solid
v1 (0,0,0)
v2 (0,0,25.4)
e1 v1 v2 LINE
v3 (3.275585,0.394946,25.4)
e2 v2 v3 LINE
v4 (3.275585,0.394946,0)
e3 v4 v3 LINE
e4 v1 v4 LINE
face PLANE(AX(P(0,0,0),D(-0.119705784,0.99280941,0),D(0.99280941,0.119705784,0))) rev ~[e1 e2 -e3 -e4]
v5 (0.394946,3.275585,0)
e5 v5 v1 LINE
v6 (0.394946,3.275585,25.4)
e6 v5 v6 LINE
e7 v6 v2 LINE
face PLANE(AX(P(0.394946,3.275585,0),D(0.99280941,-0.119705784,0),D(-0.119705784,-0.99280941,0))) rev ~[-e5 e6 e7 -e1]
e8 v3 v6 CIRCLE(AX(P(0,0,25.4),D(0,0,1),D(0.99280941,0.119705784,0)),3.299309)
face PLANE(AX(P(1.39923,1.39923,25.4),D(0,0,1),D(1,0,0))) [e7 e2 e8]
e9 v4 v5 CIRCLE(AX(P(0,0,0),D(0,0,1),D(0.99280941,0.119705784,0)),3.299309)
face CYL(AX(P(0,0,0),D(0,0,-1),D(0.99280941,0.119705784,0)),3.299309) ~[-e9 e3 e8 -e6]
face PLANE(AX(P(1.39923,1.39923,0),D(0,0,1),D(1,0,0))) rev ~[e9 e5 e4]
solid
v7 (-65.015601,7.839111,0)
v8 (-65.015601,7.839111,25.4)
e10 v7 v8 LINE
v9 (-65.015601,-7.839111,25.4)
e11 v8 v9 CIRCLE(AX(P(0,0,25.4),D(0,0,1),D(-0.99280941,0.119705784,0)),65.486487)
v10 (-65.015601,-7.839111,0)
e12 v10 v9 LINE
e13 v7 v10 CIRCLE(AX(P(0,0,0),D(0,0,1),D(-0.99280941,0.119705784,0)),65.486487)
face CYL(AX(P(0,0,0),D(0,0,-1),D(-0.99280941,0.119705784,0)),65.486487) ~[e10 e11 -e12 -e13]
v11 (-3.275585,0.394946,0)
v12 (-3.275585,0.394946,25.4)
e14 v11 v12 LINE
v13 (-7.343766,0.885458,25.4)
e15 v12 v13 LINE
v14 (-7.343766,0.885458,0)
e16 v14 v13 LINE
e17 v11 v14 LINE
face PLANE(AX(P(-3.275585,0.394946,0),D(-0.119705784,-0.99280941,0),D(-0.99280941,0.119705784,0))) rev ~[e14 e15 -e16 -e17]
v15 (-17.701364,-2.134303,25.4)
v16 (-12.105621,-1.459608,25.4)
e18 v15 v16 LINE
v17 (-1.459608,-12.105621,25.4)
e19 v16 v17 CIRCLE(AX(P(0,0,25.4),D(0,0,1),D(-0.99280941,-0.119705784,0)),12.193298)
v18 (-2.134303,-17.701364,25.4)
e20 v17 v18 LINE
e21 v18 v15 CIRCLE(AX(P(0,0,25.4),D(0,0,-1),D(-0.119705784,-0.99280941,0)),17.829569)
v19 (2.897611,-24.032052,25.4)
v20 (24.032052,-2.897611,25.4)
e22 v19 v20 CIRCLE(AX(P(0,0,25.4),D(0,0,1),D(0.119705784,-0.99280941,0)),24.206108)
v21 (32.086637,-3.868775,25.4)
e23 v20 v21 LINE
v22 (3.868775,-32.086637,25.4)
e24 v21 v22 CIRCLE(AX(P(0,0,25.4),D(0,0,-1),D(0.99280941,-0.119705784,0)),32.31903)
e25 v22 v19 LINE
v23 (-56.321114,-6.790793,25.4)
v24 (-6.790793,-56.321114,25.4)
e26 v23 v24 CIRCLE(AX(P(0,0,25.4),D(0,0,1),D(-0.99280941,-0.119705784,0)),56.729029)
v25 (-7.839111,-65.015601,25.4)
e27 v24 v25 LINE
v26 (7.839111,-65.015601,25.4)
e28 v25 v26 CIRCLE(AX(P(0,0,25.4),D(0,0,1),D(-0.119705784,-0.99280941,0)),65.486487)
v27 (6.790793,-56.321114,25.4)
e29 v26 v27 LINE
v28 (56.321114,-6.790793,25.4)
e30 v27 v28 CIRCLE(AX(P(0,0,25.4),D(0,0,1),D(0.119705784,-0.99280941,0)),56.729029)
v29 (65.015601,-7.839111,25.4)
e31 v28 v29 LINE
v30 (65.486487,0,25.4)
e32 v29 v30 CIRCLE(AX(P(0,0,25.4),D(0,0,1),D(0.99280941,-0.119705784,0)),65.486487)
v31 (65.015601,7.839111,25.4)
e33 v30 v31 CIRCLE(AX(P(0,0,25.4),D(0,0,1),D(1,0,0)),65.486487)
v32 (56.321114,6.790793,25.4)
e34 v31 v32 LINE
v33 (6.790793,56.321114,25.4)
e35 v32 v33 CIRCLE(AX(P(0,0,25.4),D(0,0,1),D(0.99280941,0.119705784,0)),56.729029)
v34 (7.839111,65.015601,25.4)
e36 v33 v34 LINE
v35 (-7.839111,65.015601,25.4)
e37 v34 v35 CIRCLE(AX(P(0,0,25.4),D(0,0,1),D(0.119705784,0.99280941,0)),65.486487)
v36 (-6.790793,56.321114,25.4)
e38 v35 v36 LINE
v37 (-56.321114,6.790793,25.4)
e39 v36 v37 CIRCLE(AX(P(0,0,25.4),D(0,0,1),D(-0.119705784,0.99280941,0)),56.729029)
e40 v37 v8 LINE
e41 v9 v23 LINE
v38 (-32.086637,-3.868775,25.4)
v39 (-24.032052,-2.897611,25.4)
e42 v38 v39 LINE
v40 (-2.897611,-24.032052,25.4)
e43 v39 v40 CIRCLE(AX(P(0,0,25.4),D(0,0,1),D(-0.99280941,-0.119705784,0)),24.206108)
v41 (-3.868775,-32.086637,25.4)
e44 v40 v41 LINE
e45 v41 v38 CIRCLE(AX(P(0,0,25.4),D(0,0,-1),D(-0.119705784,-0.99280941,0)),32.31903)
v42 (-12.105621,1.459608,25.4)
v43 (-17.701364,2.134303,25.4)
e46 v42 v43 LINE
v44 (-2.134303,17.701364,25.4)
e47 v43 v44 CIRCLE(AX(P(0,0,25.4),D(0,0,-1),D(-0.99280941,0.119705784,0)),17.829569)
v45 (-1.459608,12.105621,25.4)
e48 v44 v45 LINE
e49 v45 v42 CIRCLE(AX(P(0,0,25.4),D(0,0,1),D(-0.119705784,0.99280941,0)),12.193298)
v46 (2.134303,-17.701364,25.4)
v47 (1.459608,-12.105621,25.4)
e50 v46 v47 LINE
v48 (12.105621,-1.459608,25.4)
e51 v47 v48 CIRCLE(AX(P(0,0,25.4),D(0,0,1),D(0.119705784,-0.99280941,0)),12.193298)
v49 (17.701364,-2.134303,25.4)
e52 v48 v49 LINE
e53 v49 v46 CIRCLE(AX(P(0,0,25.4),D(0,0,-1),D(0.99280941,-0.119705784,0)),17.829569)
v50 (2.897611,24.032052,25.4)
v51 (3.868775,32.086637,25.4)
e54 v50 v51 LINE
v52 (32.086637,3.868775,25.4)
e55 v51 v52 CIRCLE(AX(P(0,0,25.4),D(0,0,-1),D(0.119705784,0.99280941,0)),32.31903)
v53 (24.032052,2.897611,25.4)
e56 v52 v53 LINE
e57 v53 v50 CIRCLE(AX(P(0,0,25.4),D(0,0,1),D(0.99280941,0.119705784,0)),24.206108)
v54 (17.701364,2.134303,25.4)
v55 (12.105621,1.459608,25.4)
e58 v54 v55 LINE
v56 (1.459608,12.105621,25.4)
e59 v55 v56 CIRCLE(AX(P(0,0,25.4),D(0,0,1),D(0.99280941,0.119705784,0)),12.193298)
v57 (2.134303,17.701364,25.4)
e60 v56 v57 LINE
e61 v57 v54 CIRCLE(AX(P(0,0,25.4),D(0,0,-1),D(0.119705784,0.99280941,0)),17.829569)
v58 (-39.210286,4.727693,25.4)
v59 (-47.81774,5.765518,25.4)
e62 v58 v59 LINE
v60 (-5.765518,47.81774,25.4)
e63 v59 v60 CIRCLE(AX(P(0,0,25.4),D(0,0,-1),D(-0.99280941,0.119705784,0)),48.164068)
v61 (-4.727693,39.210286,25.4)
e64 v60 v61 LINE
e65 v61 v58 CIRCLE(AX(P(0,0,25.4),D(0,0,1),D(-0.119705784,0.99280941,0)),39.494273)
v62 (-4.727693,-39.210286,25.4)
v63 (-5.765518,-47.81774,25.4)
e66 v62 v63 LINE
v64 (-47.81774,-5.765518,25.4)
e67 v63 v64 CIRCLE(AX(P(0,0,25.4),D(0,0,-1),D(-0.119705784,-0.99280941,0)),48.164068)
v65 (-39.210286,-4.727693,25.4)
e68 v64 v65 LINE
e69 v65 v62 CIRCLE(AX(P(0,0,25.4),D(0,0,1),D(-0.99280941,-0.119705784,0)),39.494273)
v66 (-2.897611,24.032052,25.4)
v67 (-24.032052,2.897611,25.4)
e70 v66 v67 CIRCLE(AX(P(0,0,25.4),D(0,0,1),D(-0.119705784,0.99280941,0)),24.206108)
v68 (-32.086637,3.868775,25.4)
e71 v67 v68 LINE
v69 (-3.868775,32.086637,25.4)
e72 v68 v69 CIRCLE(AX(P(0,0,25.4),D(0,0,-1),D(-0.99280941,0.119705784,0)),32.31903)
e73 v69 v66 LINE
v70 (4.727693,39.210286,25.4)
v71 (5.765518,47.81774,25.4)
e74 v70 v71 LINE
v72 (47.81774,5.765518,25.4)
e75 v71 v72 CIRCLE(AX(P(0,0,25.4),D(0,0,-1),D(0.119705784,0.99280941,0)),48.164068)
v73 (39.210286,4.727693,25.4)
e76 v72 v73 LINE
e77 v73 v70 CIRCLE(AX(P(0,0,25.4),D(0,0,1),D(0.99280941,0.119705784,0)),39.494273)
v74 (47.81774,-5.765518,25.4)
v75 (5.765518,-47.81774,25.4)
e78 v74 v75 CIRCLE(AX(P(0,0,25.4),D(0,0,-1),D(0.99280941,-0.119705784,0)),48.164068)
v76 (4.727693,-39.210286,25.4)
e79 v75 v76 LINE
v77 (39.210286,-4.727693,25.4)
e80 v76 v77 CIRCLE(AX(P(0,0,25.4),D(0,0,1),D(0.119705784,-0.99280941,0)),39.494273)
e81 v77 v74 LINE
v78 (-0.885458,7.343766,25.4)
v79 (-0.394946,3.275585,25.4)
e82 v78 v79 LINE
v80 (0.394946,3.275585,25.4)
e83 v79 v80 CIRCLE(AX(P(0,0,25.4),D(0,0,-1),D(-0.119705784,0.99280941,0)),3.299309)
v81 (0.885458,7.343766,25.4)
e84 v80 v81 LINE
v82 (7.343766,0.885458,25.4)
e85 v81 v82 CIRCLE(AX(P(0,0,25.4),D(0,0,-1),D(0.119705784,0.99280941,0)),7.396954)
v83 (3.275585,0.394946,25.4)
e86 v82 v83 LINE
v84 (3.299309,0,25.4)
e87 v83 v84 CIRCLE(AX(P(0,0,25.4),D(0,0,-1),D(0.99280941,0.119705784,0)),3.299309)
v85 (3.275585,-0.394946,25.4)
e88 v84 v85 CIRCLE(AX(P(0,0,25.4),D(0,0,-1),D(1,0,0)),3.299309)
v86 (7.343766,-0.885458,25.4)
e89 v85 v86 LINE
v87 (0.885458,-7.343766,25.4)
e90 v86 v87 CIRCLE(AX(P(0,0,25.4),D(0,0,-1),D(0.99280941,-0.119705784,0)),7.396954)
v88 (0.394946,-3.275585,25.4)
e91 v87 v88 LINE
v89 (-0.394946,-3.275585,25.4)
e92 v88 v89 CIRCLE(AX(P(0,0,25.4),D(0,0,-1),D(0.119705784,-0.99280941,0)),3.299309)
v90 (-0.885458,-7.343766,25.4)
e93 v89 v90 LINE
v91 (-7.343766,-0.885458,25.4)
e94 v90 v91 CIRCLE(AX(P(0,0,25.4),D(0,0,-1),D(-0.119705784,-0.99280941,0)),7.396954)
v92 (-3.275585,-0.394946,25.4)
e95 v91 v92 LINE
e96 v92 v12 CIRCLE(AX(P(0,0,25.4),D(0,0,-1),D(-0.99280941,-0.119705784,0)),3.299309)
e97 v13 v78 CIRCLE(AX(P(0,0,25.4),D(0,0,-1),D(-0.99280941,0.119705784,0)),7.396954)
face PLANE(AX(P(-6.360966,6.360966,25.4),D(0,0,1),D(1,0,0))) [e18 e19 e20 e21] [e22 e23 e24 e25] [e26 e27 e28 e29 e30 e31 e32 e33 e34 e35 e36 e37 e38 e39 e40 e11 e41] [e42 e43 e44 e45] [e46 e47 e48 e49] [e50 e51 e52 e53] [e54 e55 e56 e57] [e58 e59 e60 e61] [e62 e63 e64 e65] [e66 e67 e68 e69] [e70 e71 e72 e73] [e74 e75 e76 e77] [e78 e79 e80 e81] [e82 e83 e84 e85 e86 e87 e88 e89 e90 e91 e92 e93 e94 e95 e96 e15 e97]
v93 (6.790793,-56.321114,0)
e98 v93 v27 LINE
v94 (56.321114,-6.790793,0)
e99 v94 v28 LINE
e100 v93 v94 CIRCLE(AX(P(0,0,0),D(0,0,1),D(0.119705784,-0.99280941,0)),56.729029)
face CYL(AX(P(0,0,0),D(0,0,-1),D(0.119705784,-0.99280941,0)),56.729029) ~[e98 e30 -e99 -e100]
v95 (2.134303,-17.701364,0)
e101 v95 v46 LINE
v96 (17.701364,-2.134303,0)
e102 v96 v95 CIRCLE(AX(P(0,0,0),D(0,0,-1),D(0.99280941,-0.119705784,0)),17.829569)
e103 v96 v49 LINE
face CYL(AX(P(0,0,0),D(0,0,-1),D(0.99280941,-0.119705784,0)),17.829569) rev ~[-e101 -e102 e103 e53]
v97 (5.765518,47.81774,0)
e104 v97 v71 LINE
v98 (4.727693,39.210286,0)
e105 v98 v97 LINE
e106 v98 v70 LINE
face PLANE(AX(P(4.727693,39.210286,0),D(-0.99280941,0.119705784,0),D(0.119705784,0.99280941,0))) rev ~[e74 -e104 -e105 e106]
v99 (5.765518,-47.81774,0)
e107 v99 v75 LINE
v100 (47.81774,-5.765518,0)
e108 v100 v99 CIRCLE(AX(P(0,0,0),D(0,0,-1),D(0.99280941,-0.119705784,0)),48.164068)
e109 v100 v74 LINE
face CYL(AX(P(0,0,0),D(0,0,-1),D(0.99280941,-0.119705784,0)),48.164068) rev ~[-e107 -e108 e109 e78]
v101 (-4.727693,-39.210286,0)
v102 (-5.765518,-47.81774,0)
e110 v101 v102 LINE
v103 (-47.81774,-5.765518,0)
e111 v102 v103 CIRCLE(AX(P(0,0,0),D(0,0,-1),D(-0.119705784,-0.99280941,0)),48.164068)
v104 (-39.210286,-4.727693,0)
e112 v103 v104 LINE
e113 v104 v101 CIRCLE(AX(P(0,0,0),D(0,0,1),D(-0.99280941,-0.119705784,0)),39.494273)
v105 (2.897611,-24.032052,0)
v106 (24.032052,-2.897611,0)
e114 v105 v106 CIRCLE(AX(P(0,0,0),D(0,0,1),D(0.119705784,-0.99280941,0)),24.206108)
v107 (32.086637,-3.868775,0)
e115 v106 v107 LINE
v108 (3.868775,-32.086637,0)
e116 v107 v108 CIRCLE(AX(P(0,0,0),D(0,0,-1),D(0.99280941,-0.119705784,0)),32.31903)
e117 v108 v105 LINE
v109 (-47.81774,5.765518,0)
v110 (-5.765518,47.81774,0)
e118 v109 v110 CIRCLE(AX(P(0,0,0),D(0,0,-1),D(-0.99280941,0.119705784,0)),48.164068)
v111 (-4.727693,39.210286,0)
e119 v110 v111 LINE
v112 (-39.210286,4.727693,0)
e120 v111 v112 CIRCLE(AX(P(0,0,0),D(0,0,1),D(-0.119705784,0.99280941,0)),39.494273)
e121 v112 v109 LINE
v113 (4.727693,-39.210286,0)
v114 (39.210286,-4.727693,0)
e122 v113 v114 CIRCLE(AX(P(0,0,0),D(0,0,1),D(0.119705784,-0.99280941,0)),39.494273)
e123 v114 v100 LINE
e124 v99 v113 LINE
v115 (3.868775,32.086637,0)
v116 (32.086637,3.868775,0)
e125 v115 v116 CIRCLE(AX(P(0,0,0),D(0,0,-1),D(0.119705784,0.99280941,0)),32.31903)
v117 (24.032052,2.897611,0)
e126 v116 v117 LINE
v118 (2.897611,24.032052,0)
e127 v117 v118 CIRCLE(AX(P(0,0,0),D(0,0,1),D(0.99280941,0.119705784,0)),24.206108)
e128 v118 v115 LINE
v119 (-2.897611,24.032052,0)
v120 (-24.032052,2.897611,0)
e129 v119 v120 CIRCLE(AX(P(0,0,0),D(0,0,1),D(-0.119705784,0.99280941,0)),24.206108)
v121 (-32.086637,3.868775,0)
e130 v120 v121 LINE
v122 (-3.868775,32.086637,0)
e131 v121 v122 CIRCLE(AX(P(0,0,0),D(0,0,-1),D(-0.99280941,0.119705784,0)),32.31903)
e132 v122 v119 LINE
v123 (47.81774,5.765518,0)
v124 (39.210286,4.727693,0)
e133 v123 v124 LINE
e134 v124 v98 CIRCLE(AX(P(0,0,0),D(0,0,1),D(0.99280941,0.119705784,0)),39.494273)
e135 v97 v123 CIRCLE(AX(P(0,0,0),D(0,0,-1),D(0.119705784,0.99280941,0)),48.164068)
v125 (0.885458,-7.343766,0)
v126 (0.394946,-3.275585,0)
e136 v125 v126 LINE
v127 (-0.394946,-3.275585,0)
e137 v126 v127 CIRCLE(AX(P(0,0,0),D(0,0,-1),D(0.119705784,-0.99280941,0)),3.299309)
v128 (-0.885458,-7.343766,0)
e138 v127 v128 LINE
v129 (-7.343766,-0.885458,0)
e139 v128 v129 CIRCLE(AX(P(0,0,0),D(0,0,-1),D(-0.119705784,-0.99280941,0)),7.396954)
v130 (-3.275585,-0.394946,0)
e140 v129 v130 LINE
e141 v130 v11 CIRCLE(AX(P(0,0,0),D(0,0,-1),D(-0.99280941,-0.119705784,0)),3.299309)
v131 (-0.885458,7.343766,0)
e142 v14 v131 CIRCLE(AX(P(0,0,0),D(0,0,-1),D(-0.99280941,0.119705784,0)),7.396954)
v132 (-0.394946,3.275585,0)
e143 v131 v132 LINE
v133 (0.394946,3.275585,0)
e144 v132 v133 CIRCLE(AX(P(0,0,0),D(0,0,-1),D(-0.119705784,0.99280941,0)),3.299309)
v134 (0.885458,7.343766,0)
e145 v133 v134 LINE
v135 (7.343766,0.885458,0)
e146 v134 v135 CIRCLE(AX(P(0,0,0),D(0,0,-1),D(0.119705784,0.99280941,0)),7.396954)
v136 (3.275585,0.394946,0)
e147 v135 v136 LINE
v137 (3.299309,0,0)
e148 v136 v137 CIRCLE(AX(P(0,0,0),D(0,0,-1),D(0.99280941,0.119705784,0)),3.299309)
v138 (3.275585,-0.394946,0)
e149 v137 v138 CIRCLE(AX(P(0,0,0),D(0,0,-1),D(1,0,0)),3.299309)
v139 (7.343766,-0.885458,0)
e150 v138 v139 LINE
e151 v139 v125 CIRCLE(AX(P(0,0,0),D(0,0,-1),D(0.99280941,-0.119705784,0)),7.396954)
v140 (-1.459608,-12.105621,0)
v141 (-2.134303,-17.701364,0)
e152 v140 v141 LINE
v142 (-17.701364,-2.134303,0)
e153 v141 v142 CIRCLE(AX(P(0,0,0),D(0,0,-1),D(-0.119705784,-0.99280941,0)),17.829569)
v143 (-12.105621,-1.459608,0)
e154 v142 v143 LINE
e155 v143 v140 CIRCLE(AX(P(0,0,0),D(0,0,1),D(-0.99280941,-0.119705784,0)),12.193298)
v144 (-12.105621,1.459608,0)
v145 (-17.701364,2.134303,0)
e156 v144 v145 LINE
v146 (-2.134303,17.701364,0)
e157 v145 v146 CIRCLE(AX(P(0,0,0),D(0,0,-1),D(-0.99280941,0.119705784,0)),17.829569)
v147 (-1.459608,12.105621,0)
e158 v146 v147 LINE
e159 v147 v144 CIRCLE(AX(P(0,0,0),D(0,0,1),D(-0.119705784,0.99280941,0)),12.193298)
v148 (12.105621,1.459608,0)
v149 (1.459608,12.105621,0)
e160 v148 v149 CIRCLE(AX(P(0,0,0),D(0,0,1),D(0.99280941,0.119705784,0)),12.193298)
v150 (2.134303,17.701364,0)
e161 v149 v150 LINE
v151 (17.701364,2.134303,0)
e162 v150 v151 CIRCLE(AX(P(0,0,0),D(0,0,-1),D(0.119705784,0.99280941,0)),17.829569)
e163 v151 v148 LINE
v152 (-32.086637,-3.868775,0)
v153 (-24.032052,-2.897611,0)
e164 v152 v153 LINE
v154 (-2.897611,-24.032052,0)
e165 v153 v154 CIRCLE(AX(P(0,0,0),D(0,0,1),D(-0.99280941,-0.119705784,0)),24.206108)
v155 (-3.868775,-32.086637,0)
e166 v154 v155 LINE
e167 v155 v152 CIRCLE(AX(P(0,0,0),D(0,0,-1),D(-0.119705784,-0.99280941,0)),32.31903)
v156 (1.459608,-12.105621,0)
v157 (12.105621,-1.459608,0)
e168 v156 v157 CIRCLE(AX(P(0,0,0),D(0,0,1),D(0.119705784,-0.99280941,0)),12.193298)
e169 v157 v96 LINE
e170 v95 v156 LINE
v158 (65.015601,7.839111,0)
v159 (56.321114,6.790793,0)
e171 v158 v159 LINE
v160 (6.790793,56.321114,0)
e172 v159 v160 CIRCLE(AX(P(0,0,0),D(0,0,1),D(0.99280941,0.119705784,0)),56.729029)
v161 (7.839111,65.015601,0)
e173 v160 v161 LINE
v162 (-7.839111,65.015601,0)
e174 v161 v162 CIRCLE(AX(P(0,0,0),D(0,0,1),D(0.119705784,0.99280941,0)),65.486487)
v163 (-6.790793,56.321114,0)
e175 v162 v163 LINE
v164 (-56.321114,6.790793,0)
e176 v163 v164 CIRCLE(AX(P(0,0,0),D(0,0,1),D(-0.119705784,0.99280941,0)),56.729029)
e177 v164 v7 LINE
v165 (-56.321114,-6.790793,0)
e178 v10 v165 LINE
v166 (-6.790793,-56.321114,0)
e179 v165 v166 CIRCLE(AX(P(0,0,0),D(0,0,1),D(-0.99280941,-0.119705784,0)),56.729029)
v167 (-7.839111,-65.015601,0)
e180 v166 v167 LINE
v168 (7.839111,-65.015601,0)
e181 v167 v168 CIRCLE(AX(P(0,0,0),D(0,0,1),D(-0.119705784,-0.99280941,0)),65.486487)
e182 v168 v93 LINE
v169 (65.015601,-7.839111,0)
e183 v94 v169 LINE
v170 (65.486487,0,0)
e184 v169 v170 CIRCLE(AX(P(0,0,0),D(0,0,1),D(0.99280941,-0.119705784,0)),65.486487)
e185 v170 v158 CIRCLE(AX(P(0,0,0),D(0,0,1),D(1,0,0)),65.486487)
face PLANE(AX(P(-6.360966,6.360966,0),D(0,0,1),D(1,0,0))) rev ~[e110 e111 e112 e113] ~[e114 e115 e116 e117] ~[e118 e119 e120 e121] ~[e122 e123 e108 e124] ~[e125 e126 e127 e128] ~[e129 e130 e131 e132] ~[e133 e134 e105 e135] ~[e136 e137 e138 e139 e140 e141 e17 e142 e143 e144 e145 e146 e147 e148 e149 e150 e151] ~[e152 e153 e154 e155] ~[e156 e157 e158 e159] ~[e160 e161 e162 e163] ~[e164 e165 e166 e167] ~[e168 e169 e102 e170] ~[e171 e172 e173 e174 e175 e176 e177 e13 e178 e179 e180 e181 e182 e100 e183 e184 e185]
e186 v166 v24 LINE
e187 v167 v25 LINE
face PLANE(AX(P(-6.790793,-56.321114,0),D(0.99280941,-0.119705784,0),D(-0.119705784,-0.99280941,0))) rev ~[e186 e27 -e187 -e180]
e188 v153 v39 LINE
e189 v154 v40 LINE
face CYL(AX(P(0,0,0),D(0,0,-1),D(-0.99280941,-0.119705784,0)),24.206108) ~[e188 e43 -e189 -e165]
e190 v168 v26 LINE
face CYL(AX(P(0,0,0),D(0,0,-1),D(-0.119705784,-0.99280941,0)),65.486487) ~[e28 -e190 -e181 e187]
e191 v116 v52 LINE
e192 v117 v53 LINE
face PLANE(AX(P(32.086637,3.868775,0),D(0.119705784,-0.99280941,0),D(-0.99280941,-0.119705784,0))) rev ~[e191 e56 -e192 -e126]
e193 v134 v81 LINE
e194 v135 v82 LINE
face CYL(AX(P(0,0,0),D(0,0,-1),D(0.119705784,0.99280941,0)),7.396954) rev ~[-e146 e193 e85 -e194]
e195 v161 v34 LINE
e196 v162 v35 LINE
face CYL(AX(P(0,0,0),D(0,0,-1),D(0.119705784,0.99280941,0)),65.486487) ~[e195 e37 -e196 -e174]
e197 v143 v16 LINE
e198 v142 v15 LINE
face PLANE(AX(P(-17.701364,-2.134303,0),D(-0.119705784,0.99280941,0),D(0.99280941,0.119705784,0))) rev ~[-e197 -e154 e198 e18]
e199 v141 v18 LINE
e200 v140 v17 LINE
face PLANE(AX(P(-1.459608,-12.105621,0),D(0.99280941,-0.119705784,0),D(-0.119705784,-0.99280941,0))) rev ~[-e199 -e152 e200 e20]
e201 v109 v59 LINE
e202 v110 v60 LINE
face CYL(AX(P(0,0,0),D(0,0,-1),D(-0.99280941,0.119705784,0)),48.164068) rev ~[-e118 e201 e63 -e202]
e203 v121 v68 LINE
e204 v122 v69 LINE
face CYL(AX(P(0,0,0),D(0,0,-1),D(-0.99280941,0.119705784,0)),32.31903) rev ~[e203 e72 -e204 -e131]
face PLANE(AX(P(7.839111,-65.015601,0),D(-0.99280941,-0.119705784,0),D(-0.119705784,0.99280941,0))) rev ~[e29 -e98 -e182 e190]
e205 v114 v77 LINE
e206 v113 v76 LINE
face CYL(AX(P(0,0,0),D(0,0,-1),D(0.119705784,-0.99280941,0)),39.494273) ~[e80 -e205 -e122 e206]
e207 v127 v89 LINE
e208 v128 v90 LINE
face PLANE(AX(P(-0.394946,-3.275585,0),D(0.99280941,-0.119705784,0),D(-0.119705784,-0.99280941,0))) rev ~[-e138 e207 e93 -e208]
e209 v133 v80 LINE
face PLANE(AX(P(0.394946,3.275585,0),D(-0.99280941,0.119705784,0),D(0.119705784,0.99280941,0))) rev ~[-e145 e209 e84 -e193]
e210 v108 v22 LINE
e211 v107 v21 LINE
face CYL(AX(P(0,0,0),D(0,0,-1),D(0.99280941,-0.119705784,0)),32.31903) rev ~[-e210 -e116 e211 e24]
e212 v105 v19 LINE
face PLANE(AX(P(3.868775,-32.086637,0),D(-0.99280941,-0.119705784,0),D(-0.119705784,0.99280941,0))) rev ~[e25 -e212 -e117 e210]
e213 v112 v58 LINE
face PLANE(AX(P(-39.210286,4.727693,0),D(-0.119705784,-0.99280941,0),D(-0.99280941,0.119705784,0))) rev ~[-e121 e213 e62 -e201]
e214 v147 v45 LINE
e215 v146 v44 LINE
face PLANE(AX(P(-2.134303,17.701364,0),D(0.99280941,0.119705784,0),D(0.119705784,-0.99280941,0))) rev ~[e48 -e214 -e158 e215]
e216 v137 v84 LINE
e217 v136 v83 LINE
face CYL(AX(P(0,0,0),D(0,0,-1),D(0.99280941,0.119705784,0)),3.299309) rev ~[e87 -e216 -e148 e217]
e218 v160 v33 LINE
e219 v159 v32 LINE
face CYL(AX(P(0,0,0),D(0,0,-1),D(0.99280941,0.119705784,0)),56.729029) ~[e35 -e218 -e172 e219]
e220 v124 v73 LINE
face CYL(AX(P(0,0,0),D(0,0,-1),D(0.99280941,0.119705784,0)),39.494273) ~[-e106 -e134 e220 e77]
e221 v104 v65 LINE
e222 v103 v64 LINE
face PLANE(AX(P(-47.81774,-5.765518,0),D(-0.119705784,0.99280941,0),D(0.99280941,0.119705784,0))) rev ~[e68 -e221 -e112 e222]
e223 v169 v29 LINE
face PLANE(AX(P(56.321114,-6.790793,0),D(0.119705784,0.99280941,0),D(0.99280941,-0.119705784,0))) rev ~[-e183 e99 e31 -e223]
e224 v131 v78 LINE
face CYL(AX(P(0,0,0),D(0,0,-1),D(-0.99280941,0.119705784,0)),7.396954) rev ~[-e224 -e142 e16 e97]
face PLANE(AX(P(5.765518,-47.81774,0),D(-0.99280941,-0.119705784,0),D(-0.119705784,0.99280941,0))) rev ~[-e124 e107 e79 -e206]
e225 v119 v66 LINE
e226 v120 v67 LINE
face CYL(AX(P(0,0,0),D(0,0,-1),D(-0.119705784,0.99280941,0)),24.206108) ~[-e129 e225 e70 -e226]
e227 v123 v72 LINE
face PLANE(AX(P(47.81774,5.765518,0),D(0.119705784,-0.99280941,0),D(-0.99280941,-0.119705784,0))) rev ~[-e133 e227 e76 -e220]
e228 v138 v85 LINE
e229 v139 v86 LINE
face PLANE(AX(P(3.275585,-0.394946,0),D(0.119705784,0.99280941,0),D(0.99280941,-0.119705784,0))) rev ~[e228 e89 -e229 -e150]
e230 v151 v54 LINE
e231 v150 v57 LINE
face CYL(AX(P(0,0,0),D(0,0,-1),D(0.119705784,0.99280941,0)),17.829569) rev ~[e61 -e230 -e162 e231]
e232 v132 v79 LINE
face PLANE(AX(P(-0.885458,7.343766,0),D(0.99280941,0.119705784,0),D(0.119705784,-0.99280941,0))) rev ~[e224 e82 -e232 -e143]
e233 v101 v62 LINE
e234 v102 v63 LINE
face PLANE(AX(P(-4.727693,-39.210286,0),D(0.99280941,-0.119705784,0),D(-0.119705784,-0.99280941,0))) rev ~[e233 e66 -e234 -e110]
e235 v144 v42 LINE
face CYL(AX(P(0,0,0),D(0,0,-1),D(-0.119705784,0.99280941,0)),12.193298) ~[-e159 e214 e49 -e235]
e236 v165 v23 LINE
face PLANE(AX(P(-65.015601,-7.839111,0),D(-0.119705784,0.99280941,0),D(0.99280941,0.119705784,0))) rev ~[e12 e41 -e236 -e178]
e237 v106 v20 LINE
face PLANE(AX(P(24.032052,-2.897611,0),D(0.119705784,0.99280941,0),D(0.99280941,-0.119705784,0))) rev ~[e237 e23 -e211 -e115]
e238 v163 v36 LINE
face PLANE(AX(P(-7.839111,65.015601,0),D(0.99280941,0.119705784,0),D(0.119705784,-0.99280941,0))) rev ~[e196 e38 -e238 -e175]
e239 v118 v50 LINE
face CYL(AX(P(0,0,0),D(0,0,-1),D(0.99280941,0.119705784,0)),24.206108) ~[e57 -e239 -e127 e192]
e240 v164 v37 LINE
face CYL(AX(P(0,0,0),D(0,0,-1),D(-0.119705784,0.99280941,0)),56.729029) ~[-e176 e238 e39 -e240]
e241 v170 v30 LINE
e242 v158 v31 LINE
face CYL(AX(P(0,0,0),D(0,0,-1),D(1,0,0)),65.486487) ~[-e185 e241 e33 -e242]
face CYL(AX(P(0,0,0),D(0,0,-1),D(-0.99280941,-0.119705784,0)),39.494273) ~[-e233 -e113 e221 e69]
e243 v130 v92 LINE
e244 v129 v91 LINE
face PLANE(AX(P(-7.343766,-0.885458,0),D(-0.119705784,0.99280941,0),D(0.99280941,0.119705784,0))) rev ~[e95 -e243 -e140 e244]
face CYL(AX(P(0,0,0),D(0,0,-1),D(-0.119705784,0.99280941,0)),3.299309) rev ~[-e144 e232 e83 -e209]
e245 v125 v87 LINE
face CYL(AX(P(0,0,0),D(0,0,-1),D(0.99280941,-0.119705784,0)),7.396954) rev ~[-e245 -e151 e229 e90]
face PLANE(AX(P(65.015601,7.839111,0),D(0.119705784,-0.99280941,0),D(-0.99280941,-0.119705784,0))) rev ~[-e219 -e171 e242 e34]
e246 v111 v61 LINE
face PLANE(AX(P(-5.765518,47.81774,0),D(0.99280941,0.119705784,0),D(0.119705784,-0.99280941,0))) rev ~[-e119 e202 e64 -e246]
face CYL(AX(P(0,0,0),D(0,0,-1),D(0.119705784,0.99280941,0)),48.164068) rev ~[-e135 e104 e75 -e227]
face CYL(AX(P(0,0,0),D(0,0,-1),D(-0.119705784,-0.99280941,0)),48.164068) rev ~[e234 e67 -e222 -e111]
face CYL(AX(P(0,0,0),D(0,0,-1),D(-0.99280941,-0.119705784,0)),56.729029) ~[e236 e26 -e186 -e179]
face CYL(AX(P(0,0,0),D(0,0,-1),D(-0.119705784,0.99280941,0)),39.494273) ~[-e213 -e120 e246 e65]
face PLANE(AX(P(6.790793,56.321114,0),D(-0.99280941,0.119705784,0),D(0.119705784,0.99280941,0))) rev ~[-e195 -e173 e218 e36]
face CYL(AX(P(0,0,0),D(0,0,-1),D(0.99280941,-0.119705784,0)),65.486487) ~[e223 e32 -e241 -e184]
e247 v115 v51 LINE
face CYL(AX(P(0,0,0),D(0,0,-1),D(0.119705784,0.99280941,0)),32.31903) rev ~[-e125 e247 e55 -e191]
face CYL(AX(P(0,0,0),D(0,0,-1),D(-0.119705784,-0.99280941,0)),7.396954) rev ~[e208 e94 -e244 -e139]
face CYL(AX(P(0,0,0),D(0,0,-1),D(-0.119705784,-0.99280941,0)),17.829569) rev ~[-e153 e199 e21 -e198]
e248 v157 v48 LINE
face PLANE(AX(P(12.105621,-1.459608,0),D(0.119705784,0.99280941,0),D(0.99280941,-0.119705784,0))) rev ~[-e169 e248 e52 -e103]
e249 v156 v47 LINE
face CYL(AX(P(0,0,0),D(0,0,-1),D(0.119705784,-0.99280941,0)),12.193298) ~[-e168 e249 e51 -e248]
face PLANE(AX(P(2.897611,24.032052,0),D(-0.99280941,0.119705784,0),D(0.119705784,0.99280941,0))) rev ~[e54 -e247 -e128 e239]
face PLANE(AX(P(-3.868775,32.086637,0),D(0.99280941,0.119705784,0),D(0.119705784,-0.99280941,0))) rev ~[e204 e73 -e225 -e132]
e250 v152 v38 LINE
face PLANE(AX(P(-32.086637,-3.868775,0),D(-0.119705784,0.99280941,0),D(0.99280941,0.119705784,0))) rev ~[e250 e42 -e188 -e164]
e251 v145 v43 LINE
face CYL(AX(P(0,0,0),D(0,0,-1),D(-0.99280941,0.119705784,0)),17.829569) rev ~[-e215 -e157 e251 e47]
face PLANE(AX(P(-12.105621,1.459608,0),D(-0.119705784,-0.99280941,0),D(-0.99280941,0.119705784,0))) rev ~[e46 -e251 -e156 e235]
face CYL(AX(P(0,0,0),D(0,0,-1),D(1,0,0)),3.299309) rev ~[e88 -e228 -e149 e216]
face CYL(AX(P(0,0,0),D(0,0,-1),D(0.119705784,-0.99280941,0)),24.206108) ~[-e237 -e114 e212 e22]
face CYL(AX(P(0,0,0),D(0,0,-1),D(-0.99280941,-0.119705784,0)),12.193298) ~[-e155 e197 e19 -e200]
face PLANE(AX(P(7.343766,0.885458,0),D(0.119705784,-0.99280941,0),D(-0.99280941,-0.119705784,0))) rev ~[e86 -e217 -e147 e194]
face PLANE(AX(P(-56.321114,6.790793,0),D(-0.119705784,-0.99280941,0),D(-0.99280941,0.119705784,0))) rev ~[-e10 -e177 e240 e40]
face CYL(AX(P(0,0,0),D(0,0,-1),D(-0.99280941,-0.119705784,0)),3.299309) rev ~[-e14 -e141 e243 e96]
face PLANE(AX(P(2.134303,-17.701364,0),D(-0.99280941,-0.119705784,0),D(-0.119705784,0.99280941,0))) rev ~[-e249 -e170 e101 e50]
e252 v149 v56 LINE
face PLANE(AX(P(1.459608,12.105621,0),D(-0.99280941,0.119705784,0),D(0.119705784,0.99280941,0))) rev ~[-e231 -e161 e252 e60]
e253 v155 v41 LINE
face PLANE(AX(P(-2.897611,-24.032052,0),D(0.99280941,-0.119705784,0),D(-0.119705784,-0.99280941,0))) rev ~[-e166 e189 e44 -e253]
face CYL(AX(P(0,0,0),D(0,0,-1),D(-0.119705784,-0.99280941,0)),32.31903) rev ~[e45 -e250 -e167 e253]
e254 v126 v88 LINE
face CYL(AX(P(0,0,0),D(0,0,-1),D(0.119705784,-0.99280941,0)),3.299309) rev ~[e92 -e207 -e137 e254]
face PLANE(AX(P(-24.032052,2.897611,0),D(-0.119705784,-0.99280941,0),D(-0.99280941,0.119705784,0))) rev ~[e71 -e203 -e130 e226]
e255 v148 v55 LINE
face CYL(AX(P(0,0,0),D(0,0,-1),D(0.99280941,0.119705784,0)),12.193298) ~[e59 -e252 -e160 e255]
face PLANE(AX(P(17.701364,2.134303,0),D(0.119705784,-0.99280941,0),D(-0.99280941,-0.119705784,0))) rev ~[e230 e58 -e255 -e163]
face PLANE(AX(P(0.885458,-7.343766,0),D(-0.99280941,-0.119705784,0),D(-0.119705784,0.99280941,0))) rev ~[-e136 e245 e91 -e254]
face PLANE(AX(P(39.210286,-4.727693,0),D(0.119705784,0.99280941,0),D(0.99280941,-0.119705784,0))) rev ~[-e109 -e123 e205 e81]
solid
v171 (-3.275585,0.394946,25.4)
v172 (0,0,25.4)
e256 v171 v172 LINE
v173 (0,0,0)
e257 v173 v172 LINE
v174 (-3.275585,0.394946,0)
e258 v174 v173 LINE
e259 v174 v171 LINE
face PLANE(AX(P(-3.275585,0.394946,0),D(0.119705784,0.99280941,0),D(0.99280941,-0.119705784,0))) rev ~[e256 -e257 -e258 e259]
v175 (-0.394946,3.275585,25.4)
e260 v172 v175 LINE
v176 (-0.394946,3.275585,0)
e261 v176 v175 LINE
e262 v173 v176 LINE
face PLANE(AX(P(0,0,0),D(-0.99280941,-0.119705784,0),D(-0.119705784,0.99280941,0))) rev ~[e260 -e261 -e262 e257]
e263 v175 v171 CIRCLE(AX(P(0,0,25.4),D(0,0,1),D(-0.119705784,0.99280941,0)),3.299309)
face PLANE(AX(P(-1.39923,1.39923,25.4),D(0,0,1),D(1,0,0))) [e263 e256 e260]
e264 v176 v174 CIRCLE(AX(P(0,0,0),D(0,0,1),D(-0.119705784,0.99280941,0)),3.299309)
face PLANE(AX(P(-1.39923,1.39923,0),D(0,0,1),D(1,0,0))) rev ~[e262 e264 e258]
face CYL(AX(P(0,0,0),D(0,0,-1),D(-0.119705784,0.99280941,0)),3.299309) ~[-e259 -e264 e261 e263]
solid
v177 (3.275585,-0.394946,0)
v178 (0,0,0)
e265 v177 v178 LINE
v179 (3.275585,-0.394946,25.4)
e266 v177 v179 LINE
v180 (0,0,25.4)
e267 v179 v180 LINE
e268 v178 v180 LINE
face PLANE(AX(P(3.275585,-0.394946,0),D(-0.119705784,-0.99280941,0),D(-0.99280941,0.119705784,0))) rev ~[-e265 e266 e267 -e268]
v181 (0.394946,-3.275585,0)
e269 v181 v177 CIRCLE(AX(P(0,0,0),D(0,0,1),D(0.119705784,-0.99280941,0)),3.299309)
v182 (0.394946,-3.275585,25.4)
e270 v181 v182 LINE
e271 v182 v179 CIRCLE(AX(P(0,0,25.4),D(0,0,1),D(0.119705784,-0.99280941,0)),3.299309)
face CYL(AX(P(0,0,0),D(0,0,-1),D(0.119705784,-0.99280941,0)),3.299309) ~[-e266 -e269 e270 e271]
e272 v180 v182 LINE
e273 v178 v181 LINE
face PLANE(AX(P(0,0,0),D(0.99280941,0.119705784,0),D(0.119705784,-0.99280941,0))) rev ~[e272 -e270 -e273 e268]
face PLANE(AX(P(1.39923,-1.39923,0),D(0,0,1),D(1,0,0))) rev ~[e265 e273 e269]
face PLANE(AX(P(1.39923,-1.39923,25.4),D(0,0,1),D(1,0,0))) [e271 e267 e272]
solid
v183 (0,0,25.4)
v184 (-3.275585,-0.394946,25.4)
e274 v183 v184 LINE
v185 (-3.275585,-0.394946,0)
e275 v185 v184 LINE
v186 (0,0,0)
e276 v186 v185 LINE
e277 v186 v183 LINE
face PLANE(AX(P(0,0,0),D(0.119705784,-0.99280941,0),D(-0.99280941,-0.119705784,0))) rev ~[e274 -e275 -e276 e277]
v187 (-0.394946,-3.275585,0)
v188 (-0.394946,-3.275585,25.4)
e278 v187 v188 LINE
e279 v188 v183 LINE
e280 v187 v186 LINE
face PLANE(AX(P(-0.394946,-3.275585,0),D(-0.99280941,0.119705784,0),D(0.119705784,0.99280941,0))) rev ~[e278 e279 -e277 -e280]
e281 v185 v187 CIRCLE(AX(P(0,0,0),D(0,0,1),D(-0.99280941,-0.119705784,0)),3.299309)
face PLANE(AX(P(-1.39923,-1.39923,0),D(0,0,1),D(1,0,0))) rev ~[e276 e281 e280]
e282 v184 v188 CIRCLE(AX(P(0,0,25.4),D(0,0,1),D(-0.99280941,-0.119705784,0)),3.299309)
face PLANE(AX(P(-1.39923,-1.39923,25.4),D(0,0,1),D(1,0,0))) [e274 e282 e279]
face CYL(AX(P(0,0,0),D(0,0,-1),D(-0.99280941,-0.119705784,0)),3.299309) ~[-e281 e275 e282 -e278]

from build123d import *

# Parameters (mm, degrees)
F1_DEPTH = 25.4


with BuildPart() as f1:
    # F0 (on Top) → F1 (new body)
    with BuildSketch(Plane.XY):
        with BuildLine():
            ThreePointArc((0.3949463814, -3.2755851114), (2.3329638302, -2.3329638302), (3.2755851114, -0.3949463814))
            Line((3.2755851114, -0.3949463814), (0, 0))
            Line((0, 0), (0.3949463814, -3.2755851114))
        make_face()
    extrude(amount=F1_DEPTH)


with BuildPart() as f1b:
    # F0 (on Top) → F1, piece 2 (new body)
    with BuildSketch(Plane.XY):
        with BuildLine():
            Line((0, 0), (3.2755851114, 0.3949463814))
            ThreePointArc((3.2755851114, 0.3949463814), (2.3329638302, 2.3329638302), (0.3949463814, 3.2755851114))
            Line((0.3949463814, 3.2755851114), (0, 0))
        make_face()
    extrude(amount=F1_DEPTH)


with BuildPart() as f1c:
    # F0 (on Top) → F1, piece 3 (new body)
    with BuildSketch(Plane.XY):
        with BuildLine():
            Line((-3.2755851114, 0.3949463814), (0, 0))
            Line((0, 0), (-0.3949463814, 3.2755851114))
            ThreePointArc((-0.3949463814, 3.2755851114), (-2.3329638302, 2.3329638302), (-3.2755851114, 0.3949463814))
        make_face()
    extrude(amount=F1_DEPTH)


with BuildPart() as f1d:
    # F0 (on Top) → F1, piece 4 (new body)
    with BuildSketch(Plane.XY):
        with BuildLine():
            Line((-0.3949463814, -3.2755851114), (0, 0))
            Line((0, 0), (-3.2755851114, -0.3949463814))
            ThreePointArc((-3.2755851114, -0.3949463814), (-2.3329638302, -2.3329638302), (-0.3949463814, -3.2755851114))
        make_face()
    extrude(amount=F1_DEPTH)


with BuildPart() as f1e:
    # F0 (on Top) → F1, piece 5 (new body)
    with BuildSketch(Plane.XY):
        with BuildLine():
            Line((-0.8854582133, 7.3437658304), (-1.4596083092, 12.1056210961))
            ThreePointArc((-1.4596083092, 12.1056210961), (-8.621963771, 8.621963771), (-12.1056210961, 1.4596083092))
            Line((-12.1056210961, 1.4596083092), (-7.3437658304, 0.8854582133))
            ThreePointArc((-7.3437658304, 0.8854582133), (-5.2304365411, 5.2304365411), (-0.8854582133, 7.3437658304))
        make_face()
        with BuildLine():
            Line((-2.1343025953, 17.7013643731), (-2.8976111776, 24.0320521462))
            ThreePointArc((-2.8976111776, 24.0320521462), (-17.1163033523, 17.1163033523), (-24.0320521462, 2.8976111776))
            Line((-24.0320521462, 2.8976111776), (-17.7013643731, 2.1343025953))
            ThreePointArc((-17.7013643731, 2.1343025953), (-12.6074094928, 12.6074094928), (-2.1343025953, 17.7013643731))
        make_face()
        with BuildLine():
            Line((-3.8687748548, 32.086637356), (-4.7276929236, 39.2102859597))
            ThreePointArc((-4.7276929236, 39.2102859597), (-27.9266683067, 27.9266683067), (-39.2102859597, 4.7276929236))
            Line((-39.2102859597, 4.7276929236), (-32.086637356, 3.8687748548))
            ThreePointArc((-32.086637356, 3.8687748548), (-22.8530054445, 22.8530054445), (-3.8687748548, 32.086637356))
        make_face()
        with BuildLine():
            Line((-5.7655175254, 47.8177399692), (-6.7907928644, 56.3211135761))
            ThreePointArc((-6.7907928644, 56.3211135761), (-40.1134809146, 40.1134809146), (-56.3211135761, 6.7907928644))
            Line((-56.3211135761, 6.7907928644), (-47.8177399692, 5.7655175254))
            ThreePointArc((-47.8177399693, 5.7655175254), (-34.0571391055, 34.0571391055), (-5.7655175254, 47.8177399693))
        make_face()
        with BuildLine():
            Line((47.8177399692, 5.7655175254), (56.3211135761, 6.7907928644))
            ThreePointArc((56.3211135761, 6.7907928644), (40.1134809146, 40.1134809146), (6.7907928644, 56.3211135761))
            Line((6.7907928644, 56.3211135761), (5.7655175254, 47.8177399692))
            ThreePointArc((5.7655175254, 47.8177399693), (34.0571391055, 34.0571391055), (47.8177399692, 5.7655175254))
        make_face()
        with BuildLine():
            ThreePointArc((6.7907928644, -56.3211135761), (40.1134809146, -40.1134809146), (56.3211135761, -6.7907928644))
            Line((56.3211135761, -6.7907928644), (47.8177399692, -5.7655175254))
            ThreePointArc((47.8177399692, -5.7655175254), (34.0571391055, -34.0571391055), (5.7655175254, -47.8177399693))
            Line((5.7655175254, -47.8177399692), (6.7907928644, -56.3211135761))
        make_face()
        with BuildLine():
            ThreePointArc((48.1640680186, 0), (48.0774080441, 2.8879549621), (47.8177399692, 5.7655175254))
            Line((47.8177399692, 5.7655175254), (39.2102859597, 4.7276929236))
            ThreePointArc((39.2102859597, 4.7276929236), (39.4232123648, 2.368107317), (39.4942730712, 0))
            ThreePointArc((39.4942730712, 0), (39.4232123648, -2.368107317), (39.2102859597, -4.7276929236))
            Line((39.2102859597, -4.7276929236), (47.8177399692, -5.7655175254))
            ThreePointArc((47.8177399692, -5.7655175254), (48.0774080441, -2.8879549621), (48.1640680186, 0))
        make_face()
        with BuildLine():
            ThreePointArc((65.0156007019, -7.8391112903), (65.3686595432, -3.9266206806), (65.4864871592, 0))
            ThreePointArc((65.4864871592, 0), (65.3686595432, 3.9266206806), (65.0156007019, 7.8391112903))
            Line((65.0156007019, 7.8391112903), (56.3211135761, 6.7907928644))
            ThreePointArc((56.3211135761, 6.7907928644), (56.6269581255, 3.4015166658), (56.7290287435, 0))
            ThreePointArc((56.7290287435, 0), (56.6269581255, -3.4015166658), (56.3211135761, -6.7907928644))
            Line((56.3211135761, -6.7907928644), (65.0156007019, -7.8391112903))
        make_face()
        with BuildLine():
            ThreePointArc((56.7290287435, 0), (56.6269581255, 3.4015166658), (56.3211135761, 6.7907928644))
            Line((56.3211135761, 6.7907928644), (47.8177399692, 5.7655175254))
            ThreePointArc((47.8177399692, 5.7655175254), (48.0774080441, 2.8879549621), (48.1640680186, 0))
            ThreePointArc((48.1640680186, 0), (48.0774080441, -2.8879549621), (47.8177399692, -5.7655175254))
            Line((47.8177399692, -5.7655175254), (56.3211135761, -6.7907928644))
            ThreePointArc((56.3211135761, -6.7907928644), (56.6269581255, -3.4015166658), (56.7290287435, 0))
        make_face()
        with BuildLine():
            ThreePointArc((39.4942730712, 0), (39.4232123648, 2.368107317), (39.2102859597, 4.7276929236))
            Line((39.2102859597, 4.7276929236), (32.086637356, 3.8687748548))
            ThreePointArc((32.086637356, 3.8687748548), (32.2608797054, 1.9378741787), (32.3190302406, 0))
            ThreePointArc((32.3190302406, 0), (32.2608797054, -1.9378741787), (32.086637356, -3.8687748548))
            Line((32.086637356, -3.8687748548), (39.2102859597, -4.7276929236))
            ThreePointArc((39.2102859597, -4.7276929236), (39.4232123648, -2.368107317), (39.4942730712, 0))
        make_face()
        with BuildLine():
            ThreePointArc((32.3190302406, 0), (32.2608797054, 1.9378741787), (32.086637356, 3.8687748548))
            Line((32.086637356, 3.8687748548), (24.0320521462, 2.8976111776))
            ThreePointArc((24.0320521462, 2.8976111776), (24.1625551085, 1.4514170743), (24.2061083385, 0))
            ThreePointArc((24.2061083385, 0), (24.1625551085, -1.4514170743), (24.0320521462, -2.8976111776))
            Line((24.0320521462, -2.8976111776), (32.086637356, -3.8687748548))
            ThreePointArc((32.086637356, -3.8687748548), (32.2608797054, -1.9378741787), (32.3190302406, 0))
        make_face()
        with BuildLine():
            ThreePointArc((24.2061083385, 0), (24.1625551085, 1.4514170743), (24.0320521462, 2.8976111776))
            Line((24.0320521462, 2.8976111776), (17.7013643731, 2.1343025953))
            ThreePointArc((17.7013643731, 2.1343025953), (17.7974893512, 1.0690748478), (17.8295694911, 0))
            ThreePointArc((17.8295694911, 0), (17.7974893512, -1.0690748478), (17.7013643731, -2.1343025953))
            Line((17.7013643731, -2.1343025953), (24.0320521462, -2.8976111776))
            ThreePointArc((24.0320521462, -2.8976111776), (24.1625551085, -1.4514170743), (24.2061083385, 0))
        make_face()
        with BuildLine():
            ThreePointArc((17.8295694911, 0), (17.7974893512, 1.0690748478), (17.7013643731, 2.1343025953))
            Line((17.7013643731, 2.1343025953), (12.1056210961, 1.4596083092))
            ThreePointArc((12.1056210961, 1.4596083092), (12.1713591115, 0.7311196334), (12.1932980993, 0))
            ThreePointArc((12.1932980993, 0), (12.1713591115, -0.7311196334), (12.1056210961, -1.4596083092))
            Line((12.1056210961, -1.4596083092), (17.7013643731, -2.1343025953))
            ThreePointArc((17.7013643731, -2.1343025953), (17.7974893512, -1.0690748478), (17.8295694911, 0))
        make_face()
        with BuildLine():
            ThreePointArc((12.1932980993, 0), (12.1713591115, 0.7311196334), (12.1056210961, 1.4596083092))
            Line((12.1056210961, 1.4596083092), (7.3437658304, 0.8854582133))
            ThreePointArc((7.3437658304, 0.8854582133), (7.3836452044, 0.44352713), (7.3969542935, 0))
            ThreePointArc((7.3969542935, 0), (7.3836452044, -0.44352713), (7.3437658304, -0.8854582133))
            Line((7.3437658304, -0.8854582133), (12.1056210961, -1.4596083092))
            ThreePointArc((12.1056210961, -1.4596083092), (12.1713591115, -0.7311196334), (12.1932980993, 0))
        make_face()
        with BuildLine():
            ThreePointArc((7.3969542935, 0), (7.3836452044, 0.44352713), (7.3437658304, 0.8854582133))
            Line((7.3437658304, 0.8854582133), (3.2755851114, 0.3949463814))
            ThreePointArc((3.2755851114, 0.3949463814), (3.2933727542, 0.1978291379), (3.2993090892, 0))
            ThreePointArc((3.2993090892, 0), (3.2933727542, -0.1978291379), (3.2755851114, -0.3949463814))
            Line((3.2755851114, -0.3949463814), (7.3437658304, -0.8854582133))
            ThreePointArc((7.3437658304, -0.8854582133), (7.3836452044, -0.44352713), (7.3969542935, 0))
        make_face()
        with BuildLine():
            ThreePointArc((-12.1056210961, -1.4596083092), (-8.621963771, -8.621963771), (-1.4596083092, -12.1056210961))
            Line((-1.4596083092, -12.1056210961), (-0.8854582133, -7.3437658304))
            ThreePointArc((-0.8854582133, -7.3437658304), (-5.2304365411, -5.2304365411), (-7.3437658304, -0.8854582133))
            Line((-7.3437658304, -0.8854582133), (-12.1056210961, -1.4596083092))
        make_face()
        with BuildLine():
            ThreePointArc((1.4596083092, -12.1056210961), (8.621963771, -8.621963771), (12.1056210961, -1.4596083092))
            Line((12.1056210961, -1.4596083092), (7.3437658304, -0.8854582133))
            ThreePointArc((7.3437658304, -0.8854582133), (5.2304365411, -5.2304365411), (0.8854582133, -7.3437658304))
            Line((0.8854582133, -7.3437658304), (1.4596083092, -12.1056210961))
        make_face()
        with BuildLine():
            Line((7.3437658304, 0.8854582133), (12.1056210961, 1.4596083092))
            ThreePointArc((12.1056210961, 1.4596083092), (8.621963771, 8.621963771), (1.4596083092, 12.1056210961))
            Line((1.4596083092, 12.1056210961), (0.8854582133, 7.3437658304))
            ThreePointArc((0.8854582133, 7.3437658304), (5.2304365411, 5.2304365411), (7.3437658304, 0.8854582133))
        make_face()
        with BuildLine():
            Line((0.8854582133, 7.3437658304), (1.4596083092, 12.1056210961))
            ThreePointArc((1.4596083092, 12.1056210961), (0, 12.1932980993), (-1.4596083092, 12.1056210961))
            Line((-1.4596083092, 12.1056210961), (-0.8854582133, 7.3437658304))
            ThreePointArc((-0.8854582133, 7.3437658304), (0, 7.3969542935), (0.8854582133, 7.3437658304))
        make_face()
        with BuildLine():
            Line((-7.3437658304, 0.8854582133), (-12.1056210961, 1.4596083092))
            ThreePointArc((-12.1056210961, 1.4596083092), (-12.1932980993, 0), (-12.1056210961, -1.4596083092))
            Line((-12.1056210961, -1.4596083092), (-7.3437658304, -0.8854582133))
            ThreePointArc((-7.3437658304, -0.8854582133), (-7.3969542935, 0), (-7.3437658304, 0.8854582133))
        make_face()
        with BuildLine():
            ThreePointArc((-1.4596083092, -12.1056210961), (0, -12.1932980993), (1.4596083092, -12.1056210961))
            Line((1.4596083092, -12.1056210961), (0.8854582133, -7.3437658304))
            ThreePointArc((0.8854582133, -7.3437658304), (0, -7.3969542935), (-0.8854582133, -7.3437658304))
            Line((-0.8854582133, -7.3437658304), (-1.4596083092, -12.1056210961))
        make_face()
        with BuildLine():
            ThreePointArc((2.8976111776, -24.0320521462), (17.1163033523, -17.1163033523), (24.0320521462, -2.8976111776))
            Line((24.0320521462, -2.8976111776), (17.7013643731, -2.1343025953))
            ThreePointArc((17.7013643731, -2.1343025953), (12.6074094928, -12.6074094928), (2.1343025953, -17.7013643731))
            Line((2.1343025953, -17.7013643731), (2.8976111776, -24.0320521462))
        make_face()
        with BuildLine():
            Line((17.7013643731, 2.1343025953), (24.0320521462, 2.8976111776))
            ThreePointArc((24.0320521462, 2.8976111776), (17.1163033523, 17.1163033523), (2.8976111776, 24.0320521462))
            Line((2.8976111776, 24.0320521462), (2.1343025953, 17.7013643731))
            ThreePointArc((2.1343025953, 17.7013643731), (12.6074094928, 12.6074094928), (17.7013643731, 2.1343025953))
        make_face()
        with BuildLine():
            Line((2.1343025953, 17.7013643731), (2.8976111776, 24.0320521462))
            ThreePointArc((2.8976111776, 24.0320521462), (0, 24.2061083385), (-2.8976111776, 24.0320521462))
            Line((-2.8976111776, 24.0320521462), (-2.1343025953, 17.7013643731))
            ThreePointArc((-2.1343025953, 17.7013643731), (0, 17.8295694911), (2.1343025953, 17.7013643731))
        make_face()
        with BuildLine():
            Line((-17.7013643731, 2.1343025953), (-24.0320521462, 2.8976111776))
            ThreePointArc((-24.0320521462, 2.8976111776), (-24.2061083385, 0), (-24.0320521462, -2.8976111776))
            Line((-24.0320521462, -2.8976111776), (-17.7013643731, -2.1343025953))
            ThreePointArc((-17.7013643731, -2.1343025953), (-17.8295694911, 0), (-17.7013643731, 2.1343025953))
        make_face()
        with BuildLine():
            ThreePointArc((-24.0320521462, -2.8976111776), (-17.1163033523, -17.1163033523), (-2.8976111776, -24.0320521462))
            Line((-2.8976111776, -24.0320521462), (-2.1343025953, -17.7013643731))
            ThreePointArc((-2.1343025953, -17.7013643731), (-12.6074094928, -12.6074094928), (-17.7013643731, -2.1343025953))
            Line((-17.7013643731, -2.1343025953), (-24.0320521462, -2.8976111776))
        make_face()
        with BuildLine():
            Line((-32.086637356, 3.8687748548), (-39.2102859597, 4.7276929236))
            ThreePointArc((-39.2102859597, 4.7276929236), (-39.4942730712, 0), (-39.2102859597, -4.7276929236))
            Line((-39.2102859597, -4.7276929236), (-32.086637356, -3.8687748548))
            ThreePointArc((-32.086637356, -3.8687748548), (-32.3190302406, 0), (-32.086637356, 3.8687748548))
        make_face()
        with BuildLine():
            ThreePointArc((-39.2102859597, -4.7276929236), (-27.9266683067, -27.9266683067), (-4.7276929236, -39.2102859597))
            Line((-4.7276929236, -39.2102859597), (-3.8687748548, -32.086637356))
            ThreePointArc((-3.8687748548, -32.086637356), (-22.8530054445, -22.8530054445), (-32.086637356, -3.8687748548))
            Line((-32.086637356, -3.8687748548), (-39.2102859597, -4.7276929236))
        make_face()
        with BuildLine():
            ThreePointArc((4.7276929236, -39.2102859597), (27.9266683067, -27.9266683067), (39.2102859597, -4.7276929236))
            Line((39.2102859597, -4.7276929236), (32.086637356, -3.8687748548))
            ThreePointArc((32.086637356, -3.8687748548), (22.8530054445, -22.8530054445), (3.8687748548, -32.086637356))
            Line((3.8687748548, -32.086637356), (4.7276929236, -39.2102859597))
        make_face()
        with BuildLine():
            ThreePointArc((-4.7276929236, -39.2102859597), (0, -39.4942730712), (4.7276929236, -39.2102859597))
            Line((4.7276929236, -39.2102859597), (3.8687748548, -32.086637356))
            ThreePointArc((3.8687748548, -32.086637356), (0, -32.3190302406), (-3.8687748548, -32.086637356))
            Line((-3.8687748548, -32.086637356), (-4.7276929236, -39.2102859597))
        make_face()
        with BuildLine():
            Line((32.086637356, 3.8687748548), (39.2102859597, 4.7276929236))
            ThreePointArc((39.2102859597, 4.7276929236), (27.9266683067, 27.9266683067), (4.7276929236, 39.2102859597))
            Line((4.7276929236, 39.2102859597), (3.8687748548, 32.086637356))
            ThreePointArc((3.8687748548, 32.086637356), (22.8530054445, 22.8530054445), (32.086637356, 3.8687748548))
        make_face()
        with BuildLine():
            Line((5.7655175254, 47.8177399692), (6.7907928644, 56.3211135761))
            ThreePointArc((6.7907928644, 56.3211135761), (0, 56.7290287435), (-6.7907928644, 56.3211135761))
            Line((-6.7907928644, 56.3211135761), (-5.7655175254, 47.8177399692))
            ThreePointArc((-5.7655175254, 47.8177399693), (0, 48.1640680186), (5.7655175254, 47.8177399693))
        make_face()
        with BuildLine():
            Line((-47.8177399692, 5.7655175254), (-56.3211135761, 6.7907928644))
            ThreePointArc((-56.3211135761, 6.7907928644), (-56.7290287435, 0), (-56.3211135761, -6.7907928644))
            Line((-56.3211135761, -6.7907928644), (-47.8177399692, -5.7655175254))
            ThreePointArc((-47.8177399693, -5.7655175254), (-48.1640680186, 0), (-47.8177399693, 5.7655175254))
        make_face()
        with BuildLine():
            ThreePointArc((-56.3211135761, -6.7907928644), (-40.1134809146, -40.1134809146), (-6.7907928644, -56.3211135761))
            Line((-6.7907928644, -56.3211135761), (-5.7655175254, -47.8177399692))
            ThreePointArc((-5.7655175254, -47.8177399693), (-34.0571391055, -34.0571391055), (-47.8177399693, -5.7655175254))
            Line((-47.8177399692, -5.7655175254), (-56.3211135761, -6.7907928644))
        make_face()
        with BuildLine():
            ThreePointArc((-6.7907928644, -56.3211135761), (0, -56.7290287435), (6.7907928644, -56.3211135761))
            Line((6.7907928644, -56.3211135761), (5.7655175254, -47.8177399692))
            ThreePointArc((5.7655175254, -47.8177399693), (0, -48.1640680186), (-5.7655175254, -47.8177399693))
            Line((-5.7655175254, -47.8177399692), (-6.7907928644, -56.3211135761))
        make_face()
        with BuildLine():
            ThreePointArc((-5.7655175254, -47.8177399693), (0, -48.1640680186), (5.7655175254, -47.8177399693))
            Line((5.7655175254, -47.8177399692), (4.7276929236, -39.2102859597))
            ThreePointArc((4.7276929236, -39.2102859597), (0, -39.4942730712), (-4.7276929236, -39.2102859597))
            Line((-4.7276929236, -39.2102859597), (-5.7655175254, -47.8177399692))
        make_face()
        with BuildLine():
            ThreePointArc((-7.8391112903, -65.0156007019), (0, -65.4864871592), (7.8391112903, -65.0156007019))
            Line((7.8391112903, -65.0156007019), (6.7907928644, -56.3211135761))
            ThreePointArc((6.7907928644, -56.3211135761), (0, -56.7290287435), (-6.7907928644, -56.3211135761))
            Line((-6.7907928644, -56.3211135761), (-7.8391112903, -65.0156007019))
        make_face()
        with BuildLine():
            ThreePointArc((-3.8687748548, -32.086637356), (0, -32.3190302406), (3.8687748548, -32.086637356))
            Line((3.8687748548, -32.086637356), (2.8976111776, -24.0320521462))
            ThreePointArc((2.8976111776, -24.0320521462), (0, -24.2061083385), (-2.8976111776, -24.0320521462))
            Line((-2.8976111776, -24.0320521462), (-3.8687748548, -32.086637356))
        make_face()
        with BuildLine():
            ThreePointArc((-2.1343025953, -17.7013643731), (0, -17.8295694911), (2.1343025953, -17.7013643731))
            Line((2.1343025953, -17.7013643731), (1.4596083092, -12.1056210961))
            ThreePointArc((1.4596083092, -12.1056210961), (0, -12.1932980993), (-1.4596083092, -12.1056210961))
            Line((-1.4596083092, -12.1056210961), (-2.1343025953, -17.7013643731))
        make_face()
        with BuildLine():
            ThreePointArc((-2.8976111776, -24.0320521462), (0, -24.2061083385), (2.8976111776, -24.0320521462))
            Line((2.8976111776, -24.0320521462), (2.1343025953, -17.7013643731))
            ThreePointArc((2.1343025953, -17.7013643731), (0, -17.8295694911), (-2.1343025953, -17.7013643731))
            Line((-2.1343025953, -17.7013643731), (-2.8976111776, -24.0320521462))
        make_face()
        with BuildLine():
            Line((-12.1056210961, 1.4596083092), (-17.7013643731, 2.1343025953))
            ThreePointArc((-17.7013643731, 2.1343025953), (-17.8295694911, 0), (-17.7013643731, -2.1343025953))
            Line((-17.7013643731, -2.1343025953), (-12.1056210961, -1.4596083092))
            ThreePointArc((-12.1056210961, -1.4596083092), (-12.1932980993, 0), (-12.1056210961, 1.4596083092))
        make_face()
        with BuildLine():
            Line((-24.0320521462, 2.8976111776), (-32.086637356, 3.8687748548))
            ThreePointArc((-32.086637356, 3.8687748548), (-32.3190302406, 0), (-32.086637356, -3.8687748548))
            Line((-32.086637356, -3.8687748548), (-24.0320521462, -2.8976111776))
            ThreePointArc((-24.0320521462, -2.8976111776), (-24.2061083385, 0), (-24.0320521462, 2.8976111776))
        make_face()
        with BuildLine():
            Line((-39.2102859597, 4.7276929236), (-47.8177399692, 5.7655175254))
            ThreePointArc((-47.8177399693, 5.7655175254), (-48.1640680186, 0), (-47.8177399693, -5.7655175254))
            Line((-47.8177399692, -5.7655175254), (-39.2102859597, -4.7276929236))
            ThreePointArc((-39.2102859597, -4.7276929236), (-39.4942730712, 0), (-39.2102859597, 4.7276929236))
        make_face()
        with BuildLine():
            Line((-56.3211135761, 6.7907928644), (-65.0156007019, 7.8391112903))
            ThreePointArc((-65.0156007019, 7.8391112903), (-65.4864871592, 0), (-65.0156007019, -7.8391112903))
            Line((-65.0156007019, -7.8391112903), (-56.3211135761, -6.7907928644))
            ThreePointArc((-56.3211135761, -6.7907928644), (-56.7290287435, 0), (-56.3211135761, 6.7907928644))
        make_face()
        with BuildLine():
            Line((6.7907928644, 56.3211135761), (7.8391112903, 65.0156007019))
            ThreePointArc((7.8391112903, 65.0156007019), (0, 65.4864871592), (-7.8391112903, 65.0156007019))
            Line((-7.8391112903, 65.0156007019), (-6.7907928644, 56.3211135761))
            ThreePointArc((-6.7907928644, 56.3211135761), (0, 56.7290287435), (6.7907928644, 56.3211135761))
        make_face()
        with BuildLine():
            Line((4.7276929236, 39.2102859597), (5.7655175254, 47.8177399692))
            ThreePointArc((5.7655175254, 47.8177399693), (0, 48.1640680186), (-5.7655175254, 47.8177399693))
            Line((-5.7655175254, 47.8177399692), (-4.7276929236, 39.2102859597))
            ThreePointArc((-4.7276929236, 39.2102859597), (0, 39.4942730712), (4.7276929236, 39.2102859597))
        make_face()
        with BuildLine():
            Line((2.8976111776, 24.0320521462), (3.8687748548, 32.086637356))
            ThreePointArc((3.8687748548, 32.086637356), (0, 32.3190302406), (-3.8687748548, 32.086637356))
            Line((-3.8687748548, 32.086637356), (-2.8976111776, 24.0320521462))
            ThreePointArc((-2.8976111776, 24.0320521462), (0, 24.2061083385), (2.8976111776, 24.0320521462))
        make_face()
        with BuildLine():
            Line((1.4596083092, 12.1056210961), (2.1343025953, 17.7013643731))
            ThreePointArc((2.1343025953, 17.7013643731), (0, 17.8295694911), (-2.1343025953, 17.7013643731))
            Line((-2.1343025953, 17.7013643731), (-1.4596083092, 12.1056210961))
            ThreePointArc((-1.4596083092, 12.1056210961), (0, 12.1932980993), (1.4596083092, 12.1056210961))
        make_face()
        with BuildLine():
            Line((3.8687748548, 32.086637356), (4.7276929236, 39.2102859597))
            ThreePointArc((4.7276929236, 39.2102859597), (0, 39.4942730712), (-4.7276929236, 39.2102859597))
            Line((-4.7276929236, 39.2102859597), (-3.8687748548, 32.086637356))
            ThreePointArc((-3.8687748548, 32.086637356), (0, 32.3190302406), (3.8687748548, 32.086637356))
        make_face()
        with BuildLine():
            ThreePointArc((-0.8854582133, -7.3437658304), (0, -7.3969542935), (0.8854582133, -7.3437658304))
            Line((0.8854582133, -7.3437658304), (0.3949463814, -3.2755851114))
            ThreePointArc((0.3949463814, -3.2755851114), (0, -3.2993090892), (-0.3949463814, -3.2755851114))
            Line((-0.3949463814, -3.2755851114), (-0.8854582133, -7.3437658304))
        make_face()
        with BuildLine():
            Line((0.3949463814, 3.2755851114), (0.8854582133, 7.3437658304))
            ThreePointArc((0.8854582133, 7.3437658304), (0, 7.3969542935), (-0.8854582133, 7.3437658304))
            Line((-0.8854582133, 7.3437658304), (-0.3949463814, 3.2755851114))
            ThreePointArc((-0.3949463814, 3.2755851114), (0, 3.2993090892), (0.3949463814, 3.2755851114))
        make_face()
        with BuildLine():
            Line((-3.2755851114, 0.3949463814), (-7.3437658304, 0.8854582133))
            ThreePointArc((-7.3437658304, 0.8854582133), (-7.3969542935, 0), (-7.3437658304, -0.8854582133))
            Line((-7.3437658304, -0.8854582133), (-3.2755851114, -0.3949463814))
            ThreePointArc((-3.2755851114, -0.3949463814), (-3.2993090892, 0), (-3.2755851114, 0.3949463814))
        make_face()
    extrude(amount=F1_DEPTH)


solid = Compound([f1.part, f1b.part, f1c.part, f1d.part, f1e.part])
